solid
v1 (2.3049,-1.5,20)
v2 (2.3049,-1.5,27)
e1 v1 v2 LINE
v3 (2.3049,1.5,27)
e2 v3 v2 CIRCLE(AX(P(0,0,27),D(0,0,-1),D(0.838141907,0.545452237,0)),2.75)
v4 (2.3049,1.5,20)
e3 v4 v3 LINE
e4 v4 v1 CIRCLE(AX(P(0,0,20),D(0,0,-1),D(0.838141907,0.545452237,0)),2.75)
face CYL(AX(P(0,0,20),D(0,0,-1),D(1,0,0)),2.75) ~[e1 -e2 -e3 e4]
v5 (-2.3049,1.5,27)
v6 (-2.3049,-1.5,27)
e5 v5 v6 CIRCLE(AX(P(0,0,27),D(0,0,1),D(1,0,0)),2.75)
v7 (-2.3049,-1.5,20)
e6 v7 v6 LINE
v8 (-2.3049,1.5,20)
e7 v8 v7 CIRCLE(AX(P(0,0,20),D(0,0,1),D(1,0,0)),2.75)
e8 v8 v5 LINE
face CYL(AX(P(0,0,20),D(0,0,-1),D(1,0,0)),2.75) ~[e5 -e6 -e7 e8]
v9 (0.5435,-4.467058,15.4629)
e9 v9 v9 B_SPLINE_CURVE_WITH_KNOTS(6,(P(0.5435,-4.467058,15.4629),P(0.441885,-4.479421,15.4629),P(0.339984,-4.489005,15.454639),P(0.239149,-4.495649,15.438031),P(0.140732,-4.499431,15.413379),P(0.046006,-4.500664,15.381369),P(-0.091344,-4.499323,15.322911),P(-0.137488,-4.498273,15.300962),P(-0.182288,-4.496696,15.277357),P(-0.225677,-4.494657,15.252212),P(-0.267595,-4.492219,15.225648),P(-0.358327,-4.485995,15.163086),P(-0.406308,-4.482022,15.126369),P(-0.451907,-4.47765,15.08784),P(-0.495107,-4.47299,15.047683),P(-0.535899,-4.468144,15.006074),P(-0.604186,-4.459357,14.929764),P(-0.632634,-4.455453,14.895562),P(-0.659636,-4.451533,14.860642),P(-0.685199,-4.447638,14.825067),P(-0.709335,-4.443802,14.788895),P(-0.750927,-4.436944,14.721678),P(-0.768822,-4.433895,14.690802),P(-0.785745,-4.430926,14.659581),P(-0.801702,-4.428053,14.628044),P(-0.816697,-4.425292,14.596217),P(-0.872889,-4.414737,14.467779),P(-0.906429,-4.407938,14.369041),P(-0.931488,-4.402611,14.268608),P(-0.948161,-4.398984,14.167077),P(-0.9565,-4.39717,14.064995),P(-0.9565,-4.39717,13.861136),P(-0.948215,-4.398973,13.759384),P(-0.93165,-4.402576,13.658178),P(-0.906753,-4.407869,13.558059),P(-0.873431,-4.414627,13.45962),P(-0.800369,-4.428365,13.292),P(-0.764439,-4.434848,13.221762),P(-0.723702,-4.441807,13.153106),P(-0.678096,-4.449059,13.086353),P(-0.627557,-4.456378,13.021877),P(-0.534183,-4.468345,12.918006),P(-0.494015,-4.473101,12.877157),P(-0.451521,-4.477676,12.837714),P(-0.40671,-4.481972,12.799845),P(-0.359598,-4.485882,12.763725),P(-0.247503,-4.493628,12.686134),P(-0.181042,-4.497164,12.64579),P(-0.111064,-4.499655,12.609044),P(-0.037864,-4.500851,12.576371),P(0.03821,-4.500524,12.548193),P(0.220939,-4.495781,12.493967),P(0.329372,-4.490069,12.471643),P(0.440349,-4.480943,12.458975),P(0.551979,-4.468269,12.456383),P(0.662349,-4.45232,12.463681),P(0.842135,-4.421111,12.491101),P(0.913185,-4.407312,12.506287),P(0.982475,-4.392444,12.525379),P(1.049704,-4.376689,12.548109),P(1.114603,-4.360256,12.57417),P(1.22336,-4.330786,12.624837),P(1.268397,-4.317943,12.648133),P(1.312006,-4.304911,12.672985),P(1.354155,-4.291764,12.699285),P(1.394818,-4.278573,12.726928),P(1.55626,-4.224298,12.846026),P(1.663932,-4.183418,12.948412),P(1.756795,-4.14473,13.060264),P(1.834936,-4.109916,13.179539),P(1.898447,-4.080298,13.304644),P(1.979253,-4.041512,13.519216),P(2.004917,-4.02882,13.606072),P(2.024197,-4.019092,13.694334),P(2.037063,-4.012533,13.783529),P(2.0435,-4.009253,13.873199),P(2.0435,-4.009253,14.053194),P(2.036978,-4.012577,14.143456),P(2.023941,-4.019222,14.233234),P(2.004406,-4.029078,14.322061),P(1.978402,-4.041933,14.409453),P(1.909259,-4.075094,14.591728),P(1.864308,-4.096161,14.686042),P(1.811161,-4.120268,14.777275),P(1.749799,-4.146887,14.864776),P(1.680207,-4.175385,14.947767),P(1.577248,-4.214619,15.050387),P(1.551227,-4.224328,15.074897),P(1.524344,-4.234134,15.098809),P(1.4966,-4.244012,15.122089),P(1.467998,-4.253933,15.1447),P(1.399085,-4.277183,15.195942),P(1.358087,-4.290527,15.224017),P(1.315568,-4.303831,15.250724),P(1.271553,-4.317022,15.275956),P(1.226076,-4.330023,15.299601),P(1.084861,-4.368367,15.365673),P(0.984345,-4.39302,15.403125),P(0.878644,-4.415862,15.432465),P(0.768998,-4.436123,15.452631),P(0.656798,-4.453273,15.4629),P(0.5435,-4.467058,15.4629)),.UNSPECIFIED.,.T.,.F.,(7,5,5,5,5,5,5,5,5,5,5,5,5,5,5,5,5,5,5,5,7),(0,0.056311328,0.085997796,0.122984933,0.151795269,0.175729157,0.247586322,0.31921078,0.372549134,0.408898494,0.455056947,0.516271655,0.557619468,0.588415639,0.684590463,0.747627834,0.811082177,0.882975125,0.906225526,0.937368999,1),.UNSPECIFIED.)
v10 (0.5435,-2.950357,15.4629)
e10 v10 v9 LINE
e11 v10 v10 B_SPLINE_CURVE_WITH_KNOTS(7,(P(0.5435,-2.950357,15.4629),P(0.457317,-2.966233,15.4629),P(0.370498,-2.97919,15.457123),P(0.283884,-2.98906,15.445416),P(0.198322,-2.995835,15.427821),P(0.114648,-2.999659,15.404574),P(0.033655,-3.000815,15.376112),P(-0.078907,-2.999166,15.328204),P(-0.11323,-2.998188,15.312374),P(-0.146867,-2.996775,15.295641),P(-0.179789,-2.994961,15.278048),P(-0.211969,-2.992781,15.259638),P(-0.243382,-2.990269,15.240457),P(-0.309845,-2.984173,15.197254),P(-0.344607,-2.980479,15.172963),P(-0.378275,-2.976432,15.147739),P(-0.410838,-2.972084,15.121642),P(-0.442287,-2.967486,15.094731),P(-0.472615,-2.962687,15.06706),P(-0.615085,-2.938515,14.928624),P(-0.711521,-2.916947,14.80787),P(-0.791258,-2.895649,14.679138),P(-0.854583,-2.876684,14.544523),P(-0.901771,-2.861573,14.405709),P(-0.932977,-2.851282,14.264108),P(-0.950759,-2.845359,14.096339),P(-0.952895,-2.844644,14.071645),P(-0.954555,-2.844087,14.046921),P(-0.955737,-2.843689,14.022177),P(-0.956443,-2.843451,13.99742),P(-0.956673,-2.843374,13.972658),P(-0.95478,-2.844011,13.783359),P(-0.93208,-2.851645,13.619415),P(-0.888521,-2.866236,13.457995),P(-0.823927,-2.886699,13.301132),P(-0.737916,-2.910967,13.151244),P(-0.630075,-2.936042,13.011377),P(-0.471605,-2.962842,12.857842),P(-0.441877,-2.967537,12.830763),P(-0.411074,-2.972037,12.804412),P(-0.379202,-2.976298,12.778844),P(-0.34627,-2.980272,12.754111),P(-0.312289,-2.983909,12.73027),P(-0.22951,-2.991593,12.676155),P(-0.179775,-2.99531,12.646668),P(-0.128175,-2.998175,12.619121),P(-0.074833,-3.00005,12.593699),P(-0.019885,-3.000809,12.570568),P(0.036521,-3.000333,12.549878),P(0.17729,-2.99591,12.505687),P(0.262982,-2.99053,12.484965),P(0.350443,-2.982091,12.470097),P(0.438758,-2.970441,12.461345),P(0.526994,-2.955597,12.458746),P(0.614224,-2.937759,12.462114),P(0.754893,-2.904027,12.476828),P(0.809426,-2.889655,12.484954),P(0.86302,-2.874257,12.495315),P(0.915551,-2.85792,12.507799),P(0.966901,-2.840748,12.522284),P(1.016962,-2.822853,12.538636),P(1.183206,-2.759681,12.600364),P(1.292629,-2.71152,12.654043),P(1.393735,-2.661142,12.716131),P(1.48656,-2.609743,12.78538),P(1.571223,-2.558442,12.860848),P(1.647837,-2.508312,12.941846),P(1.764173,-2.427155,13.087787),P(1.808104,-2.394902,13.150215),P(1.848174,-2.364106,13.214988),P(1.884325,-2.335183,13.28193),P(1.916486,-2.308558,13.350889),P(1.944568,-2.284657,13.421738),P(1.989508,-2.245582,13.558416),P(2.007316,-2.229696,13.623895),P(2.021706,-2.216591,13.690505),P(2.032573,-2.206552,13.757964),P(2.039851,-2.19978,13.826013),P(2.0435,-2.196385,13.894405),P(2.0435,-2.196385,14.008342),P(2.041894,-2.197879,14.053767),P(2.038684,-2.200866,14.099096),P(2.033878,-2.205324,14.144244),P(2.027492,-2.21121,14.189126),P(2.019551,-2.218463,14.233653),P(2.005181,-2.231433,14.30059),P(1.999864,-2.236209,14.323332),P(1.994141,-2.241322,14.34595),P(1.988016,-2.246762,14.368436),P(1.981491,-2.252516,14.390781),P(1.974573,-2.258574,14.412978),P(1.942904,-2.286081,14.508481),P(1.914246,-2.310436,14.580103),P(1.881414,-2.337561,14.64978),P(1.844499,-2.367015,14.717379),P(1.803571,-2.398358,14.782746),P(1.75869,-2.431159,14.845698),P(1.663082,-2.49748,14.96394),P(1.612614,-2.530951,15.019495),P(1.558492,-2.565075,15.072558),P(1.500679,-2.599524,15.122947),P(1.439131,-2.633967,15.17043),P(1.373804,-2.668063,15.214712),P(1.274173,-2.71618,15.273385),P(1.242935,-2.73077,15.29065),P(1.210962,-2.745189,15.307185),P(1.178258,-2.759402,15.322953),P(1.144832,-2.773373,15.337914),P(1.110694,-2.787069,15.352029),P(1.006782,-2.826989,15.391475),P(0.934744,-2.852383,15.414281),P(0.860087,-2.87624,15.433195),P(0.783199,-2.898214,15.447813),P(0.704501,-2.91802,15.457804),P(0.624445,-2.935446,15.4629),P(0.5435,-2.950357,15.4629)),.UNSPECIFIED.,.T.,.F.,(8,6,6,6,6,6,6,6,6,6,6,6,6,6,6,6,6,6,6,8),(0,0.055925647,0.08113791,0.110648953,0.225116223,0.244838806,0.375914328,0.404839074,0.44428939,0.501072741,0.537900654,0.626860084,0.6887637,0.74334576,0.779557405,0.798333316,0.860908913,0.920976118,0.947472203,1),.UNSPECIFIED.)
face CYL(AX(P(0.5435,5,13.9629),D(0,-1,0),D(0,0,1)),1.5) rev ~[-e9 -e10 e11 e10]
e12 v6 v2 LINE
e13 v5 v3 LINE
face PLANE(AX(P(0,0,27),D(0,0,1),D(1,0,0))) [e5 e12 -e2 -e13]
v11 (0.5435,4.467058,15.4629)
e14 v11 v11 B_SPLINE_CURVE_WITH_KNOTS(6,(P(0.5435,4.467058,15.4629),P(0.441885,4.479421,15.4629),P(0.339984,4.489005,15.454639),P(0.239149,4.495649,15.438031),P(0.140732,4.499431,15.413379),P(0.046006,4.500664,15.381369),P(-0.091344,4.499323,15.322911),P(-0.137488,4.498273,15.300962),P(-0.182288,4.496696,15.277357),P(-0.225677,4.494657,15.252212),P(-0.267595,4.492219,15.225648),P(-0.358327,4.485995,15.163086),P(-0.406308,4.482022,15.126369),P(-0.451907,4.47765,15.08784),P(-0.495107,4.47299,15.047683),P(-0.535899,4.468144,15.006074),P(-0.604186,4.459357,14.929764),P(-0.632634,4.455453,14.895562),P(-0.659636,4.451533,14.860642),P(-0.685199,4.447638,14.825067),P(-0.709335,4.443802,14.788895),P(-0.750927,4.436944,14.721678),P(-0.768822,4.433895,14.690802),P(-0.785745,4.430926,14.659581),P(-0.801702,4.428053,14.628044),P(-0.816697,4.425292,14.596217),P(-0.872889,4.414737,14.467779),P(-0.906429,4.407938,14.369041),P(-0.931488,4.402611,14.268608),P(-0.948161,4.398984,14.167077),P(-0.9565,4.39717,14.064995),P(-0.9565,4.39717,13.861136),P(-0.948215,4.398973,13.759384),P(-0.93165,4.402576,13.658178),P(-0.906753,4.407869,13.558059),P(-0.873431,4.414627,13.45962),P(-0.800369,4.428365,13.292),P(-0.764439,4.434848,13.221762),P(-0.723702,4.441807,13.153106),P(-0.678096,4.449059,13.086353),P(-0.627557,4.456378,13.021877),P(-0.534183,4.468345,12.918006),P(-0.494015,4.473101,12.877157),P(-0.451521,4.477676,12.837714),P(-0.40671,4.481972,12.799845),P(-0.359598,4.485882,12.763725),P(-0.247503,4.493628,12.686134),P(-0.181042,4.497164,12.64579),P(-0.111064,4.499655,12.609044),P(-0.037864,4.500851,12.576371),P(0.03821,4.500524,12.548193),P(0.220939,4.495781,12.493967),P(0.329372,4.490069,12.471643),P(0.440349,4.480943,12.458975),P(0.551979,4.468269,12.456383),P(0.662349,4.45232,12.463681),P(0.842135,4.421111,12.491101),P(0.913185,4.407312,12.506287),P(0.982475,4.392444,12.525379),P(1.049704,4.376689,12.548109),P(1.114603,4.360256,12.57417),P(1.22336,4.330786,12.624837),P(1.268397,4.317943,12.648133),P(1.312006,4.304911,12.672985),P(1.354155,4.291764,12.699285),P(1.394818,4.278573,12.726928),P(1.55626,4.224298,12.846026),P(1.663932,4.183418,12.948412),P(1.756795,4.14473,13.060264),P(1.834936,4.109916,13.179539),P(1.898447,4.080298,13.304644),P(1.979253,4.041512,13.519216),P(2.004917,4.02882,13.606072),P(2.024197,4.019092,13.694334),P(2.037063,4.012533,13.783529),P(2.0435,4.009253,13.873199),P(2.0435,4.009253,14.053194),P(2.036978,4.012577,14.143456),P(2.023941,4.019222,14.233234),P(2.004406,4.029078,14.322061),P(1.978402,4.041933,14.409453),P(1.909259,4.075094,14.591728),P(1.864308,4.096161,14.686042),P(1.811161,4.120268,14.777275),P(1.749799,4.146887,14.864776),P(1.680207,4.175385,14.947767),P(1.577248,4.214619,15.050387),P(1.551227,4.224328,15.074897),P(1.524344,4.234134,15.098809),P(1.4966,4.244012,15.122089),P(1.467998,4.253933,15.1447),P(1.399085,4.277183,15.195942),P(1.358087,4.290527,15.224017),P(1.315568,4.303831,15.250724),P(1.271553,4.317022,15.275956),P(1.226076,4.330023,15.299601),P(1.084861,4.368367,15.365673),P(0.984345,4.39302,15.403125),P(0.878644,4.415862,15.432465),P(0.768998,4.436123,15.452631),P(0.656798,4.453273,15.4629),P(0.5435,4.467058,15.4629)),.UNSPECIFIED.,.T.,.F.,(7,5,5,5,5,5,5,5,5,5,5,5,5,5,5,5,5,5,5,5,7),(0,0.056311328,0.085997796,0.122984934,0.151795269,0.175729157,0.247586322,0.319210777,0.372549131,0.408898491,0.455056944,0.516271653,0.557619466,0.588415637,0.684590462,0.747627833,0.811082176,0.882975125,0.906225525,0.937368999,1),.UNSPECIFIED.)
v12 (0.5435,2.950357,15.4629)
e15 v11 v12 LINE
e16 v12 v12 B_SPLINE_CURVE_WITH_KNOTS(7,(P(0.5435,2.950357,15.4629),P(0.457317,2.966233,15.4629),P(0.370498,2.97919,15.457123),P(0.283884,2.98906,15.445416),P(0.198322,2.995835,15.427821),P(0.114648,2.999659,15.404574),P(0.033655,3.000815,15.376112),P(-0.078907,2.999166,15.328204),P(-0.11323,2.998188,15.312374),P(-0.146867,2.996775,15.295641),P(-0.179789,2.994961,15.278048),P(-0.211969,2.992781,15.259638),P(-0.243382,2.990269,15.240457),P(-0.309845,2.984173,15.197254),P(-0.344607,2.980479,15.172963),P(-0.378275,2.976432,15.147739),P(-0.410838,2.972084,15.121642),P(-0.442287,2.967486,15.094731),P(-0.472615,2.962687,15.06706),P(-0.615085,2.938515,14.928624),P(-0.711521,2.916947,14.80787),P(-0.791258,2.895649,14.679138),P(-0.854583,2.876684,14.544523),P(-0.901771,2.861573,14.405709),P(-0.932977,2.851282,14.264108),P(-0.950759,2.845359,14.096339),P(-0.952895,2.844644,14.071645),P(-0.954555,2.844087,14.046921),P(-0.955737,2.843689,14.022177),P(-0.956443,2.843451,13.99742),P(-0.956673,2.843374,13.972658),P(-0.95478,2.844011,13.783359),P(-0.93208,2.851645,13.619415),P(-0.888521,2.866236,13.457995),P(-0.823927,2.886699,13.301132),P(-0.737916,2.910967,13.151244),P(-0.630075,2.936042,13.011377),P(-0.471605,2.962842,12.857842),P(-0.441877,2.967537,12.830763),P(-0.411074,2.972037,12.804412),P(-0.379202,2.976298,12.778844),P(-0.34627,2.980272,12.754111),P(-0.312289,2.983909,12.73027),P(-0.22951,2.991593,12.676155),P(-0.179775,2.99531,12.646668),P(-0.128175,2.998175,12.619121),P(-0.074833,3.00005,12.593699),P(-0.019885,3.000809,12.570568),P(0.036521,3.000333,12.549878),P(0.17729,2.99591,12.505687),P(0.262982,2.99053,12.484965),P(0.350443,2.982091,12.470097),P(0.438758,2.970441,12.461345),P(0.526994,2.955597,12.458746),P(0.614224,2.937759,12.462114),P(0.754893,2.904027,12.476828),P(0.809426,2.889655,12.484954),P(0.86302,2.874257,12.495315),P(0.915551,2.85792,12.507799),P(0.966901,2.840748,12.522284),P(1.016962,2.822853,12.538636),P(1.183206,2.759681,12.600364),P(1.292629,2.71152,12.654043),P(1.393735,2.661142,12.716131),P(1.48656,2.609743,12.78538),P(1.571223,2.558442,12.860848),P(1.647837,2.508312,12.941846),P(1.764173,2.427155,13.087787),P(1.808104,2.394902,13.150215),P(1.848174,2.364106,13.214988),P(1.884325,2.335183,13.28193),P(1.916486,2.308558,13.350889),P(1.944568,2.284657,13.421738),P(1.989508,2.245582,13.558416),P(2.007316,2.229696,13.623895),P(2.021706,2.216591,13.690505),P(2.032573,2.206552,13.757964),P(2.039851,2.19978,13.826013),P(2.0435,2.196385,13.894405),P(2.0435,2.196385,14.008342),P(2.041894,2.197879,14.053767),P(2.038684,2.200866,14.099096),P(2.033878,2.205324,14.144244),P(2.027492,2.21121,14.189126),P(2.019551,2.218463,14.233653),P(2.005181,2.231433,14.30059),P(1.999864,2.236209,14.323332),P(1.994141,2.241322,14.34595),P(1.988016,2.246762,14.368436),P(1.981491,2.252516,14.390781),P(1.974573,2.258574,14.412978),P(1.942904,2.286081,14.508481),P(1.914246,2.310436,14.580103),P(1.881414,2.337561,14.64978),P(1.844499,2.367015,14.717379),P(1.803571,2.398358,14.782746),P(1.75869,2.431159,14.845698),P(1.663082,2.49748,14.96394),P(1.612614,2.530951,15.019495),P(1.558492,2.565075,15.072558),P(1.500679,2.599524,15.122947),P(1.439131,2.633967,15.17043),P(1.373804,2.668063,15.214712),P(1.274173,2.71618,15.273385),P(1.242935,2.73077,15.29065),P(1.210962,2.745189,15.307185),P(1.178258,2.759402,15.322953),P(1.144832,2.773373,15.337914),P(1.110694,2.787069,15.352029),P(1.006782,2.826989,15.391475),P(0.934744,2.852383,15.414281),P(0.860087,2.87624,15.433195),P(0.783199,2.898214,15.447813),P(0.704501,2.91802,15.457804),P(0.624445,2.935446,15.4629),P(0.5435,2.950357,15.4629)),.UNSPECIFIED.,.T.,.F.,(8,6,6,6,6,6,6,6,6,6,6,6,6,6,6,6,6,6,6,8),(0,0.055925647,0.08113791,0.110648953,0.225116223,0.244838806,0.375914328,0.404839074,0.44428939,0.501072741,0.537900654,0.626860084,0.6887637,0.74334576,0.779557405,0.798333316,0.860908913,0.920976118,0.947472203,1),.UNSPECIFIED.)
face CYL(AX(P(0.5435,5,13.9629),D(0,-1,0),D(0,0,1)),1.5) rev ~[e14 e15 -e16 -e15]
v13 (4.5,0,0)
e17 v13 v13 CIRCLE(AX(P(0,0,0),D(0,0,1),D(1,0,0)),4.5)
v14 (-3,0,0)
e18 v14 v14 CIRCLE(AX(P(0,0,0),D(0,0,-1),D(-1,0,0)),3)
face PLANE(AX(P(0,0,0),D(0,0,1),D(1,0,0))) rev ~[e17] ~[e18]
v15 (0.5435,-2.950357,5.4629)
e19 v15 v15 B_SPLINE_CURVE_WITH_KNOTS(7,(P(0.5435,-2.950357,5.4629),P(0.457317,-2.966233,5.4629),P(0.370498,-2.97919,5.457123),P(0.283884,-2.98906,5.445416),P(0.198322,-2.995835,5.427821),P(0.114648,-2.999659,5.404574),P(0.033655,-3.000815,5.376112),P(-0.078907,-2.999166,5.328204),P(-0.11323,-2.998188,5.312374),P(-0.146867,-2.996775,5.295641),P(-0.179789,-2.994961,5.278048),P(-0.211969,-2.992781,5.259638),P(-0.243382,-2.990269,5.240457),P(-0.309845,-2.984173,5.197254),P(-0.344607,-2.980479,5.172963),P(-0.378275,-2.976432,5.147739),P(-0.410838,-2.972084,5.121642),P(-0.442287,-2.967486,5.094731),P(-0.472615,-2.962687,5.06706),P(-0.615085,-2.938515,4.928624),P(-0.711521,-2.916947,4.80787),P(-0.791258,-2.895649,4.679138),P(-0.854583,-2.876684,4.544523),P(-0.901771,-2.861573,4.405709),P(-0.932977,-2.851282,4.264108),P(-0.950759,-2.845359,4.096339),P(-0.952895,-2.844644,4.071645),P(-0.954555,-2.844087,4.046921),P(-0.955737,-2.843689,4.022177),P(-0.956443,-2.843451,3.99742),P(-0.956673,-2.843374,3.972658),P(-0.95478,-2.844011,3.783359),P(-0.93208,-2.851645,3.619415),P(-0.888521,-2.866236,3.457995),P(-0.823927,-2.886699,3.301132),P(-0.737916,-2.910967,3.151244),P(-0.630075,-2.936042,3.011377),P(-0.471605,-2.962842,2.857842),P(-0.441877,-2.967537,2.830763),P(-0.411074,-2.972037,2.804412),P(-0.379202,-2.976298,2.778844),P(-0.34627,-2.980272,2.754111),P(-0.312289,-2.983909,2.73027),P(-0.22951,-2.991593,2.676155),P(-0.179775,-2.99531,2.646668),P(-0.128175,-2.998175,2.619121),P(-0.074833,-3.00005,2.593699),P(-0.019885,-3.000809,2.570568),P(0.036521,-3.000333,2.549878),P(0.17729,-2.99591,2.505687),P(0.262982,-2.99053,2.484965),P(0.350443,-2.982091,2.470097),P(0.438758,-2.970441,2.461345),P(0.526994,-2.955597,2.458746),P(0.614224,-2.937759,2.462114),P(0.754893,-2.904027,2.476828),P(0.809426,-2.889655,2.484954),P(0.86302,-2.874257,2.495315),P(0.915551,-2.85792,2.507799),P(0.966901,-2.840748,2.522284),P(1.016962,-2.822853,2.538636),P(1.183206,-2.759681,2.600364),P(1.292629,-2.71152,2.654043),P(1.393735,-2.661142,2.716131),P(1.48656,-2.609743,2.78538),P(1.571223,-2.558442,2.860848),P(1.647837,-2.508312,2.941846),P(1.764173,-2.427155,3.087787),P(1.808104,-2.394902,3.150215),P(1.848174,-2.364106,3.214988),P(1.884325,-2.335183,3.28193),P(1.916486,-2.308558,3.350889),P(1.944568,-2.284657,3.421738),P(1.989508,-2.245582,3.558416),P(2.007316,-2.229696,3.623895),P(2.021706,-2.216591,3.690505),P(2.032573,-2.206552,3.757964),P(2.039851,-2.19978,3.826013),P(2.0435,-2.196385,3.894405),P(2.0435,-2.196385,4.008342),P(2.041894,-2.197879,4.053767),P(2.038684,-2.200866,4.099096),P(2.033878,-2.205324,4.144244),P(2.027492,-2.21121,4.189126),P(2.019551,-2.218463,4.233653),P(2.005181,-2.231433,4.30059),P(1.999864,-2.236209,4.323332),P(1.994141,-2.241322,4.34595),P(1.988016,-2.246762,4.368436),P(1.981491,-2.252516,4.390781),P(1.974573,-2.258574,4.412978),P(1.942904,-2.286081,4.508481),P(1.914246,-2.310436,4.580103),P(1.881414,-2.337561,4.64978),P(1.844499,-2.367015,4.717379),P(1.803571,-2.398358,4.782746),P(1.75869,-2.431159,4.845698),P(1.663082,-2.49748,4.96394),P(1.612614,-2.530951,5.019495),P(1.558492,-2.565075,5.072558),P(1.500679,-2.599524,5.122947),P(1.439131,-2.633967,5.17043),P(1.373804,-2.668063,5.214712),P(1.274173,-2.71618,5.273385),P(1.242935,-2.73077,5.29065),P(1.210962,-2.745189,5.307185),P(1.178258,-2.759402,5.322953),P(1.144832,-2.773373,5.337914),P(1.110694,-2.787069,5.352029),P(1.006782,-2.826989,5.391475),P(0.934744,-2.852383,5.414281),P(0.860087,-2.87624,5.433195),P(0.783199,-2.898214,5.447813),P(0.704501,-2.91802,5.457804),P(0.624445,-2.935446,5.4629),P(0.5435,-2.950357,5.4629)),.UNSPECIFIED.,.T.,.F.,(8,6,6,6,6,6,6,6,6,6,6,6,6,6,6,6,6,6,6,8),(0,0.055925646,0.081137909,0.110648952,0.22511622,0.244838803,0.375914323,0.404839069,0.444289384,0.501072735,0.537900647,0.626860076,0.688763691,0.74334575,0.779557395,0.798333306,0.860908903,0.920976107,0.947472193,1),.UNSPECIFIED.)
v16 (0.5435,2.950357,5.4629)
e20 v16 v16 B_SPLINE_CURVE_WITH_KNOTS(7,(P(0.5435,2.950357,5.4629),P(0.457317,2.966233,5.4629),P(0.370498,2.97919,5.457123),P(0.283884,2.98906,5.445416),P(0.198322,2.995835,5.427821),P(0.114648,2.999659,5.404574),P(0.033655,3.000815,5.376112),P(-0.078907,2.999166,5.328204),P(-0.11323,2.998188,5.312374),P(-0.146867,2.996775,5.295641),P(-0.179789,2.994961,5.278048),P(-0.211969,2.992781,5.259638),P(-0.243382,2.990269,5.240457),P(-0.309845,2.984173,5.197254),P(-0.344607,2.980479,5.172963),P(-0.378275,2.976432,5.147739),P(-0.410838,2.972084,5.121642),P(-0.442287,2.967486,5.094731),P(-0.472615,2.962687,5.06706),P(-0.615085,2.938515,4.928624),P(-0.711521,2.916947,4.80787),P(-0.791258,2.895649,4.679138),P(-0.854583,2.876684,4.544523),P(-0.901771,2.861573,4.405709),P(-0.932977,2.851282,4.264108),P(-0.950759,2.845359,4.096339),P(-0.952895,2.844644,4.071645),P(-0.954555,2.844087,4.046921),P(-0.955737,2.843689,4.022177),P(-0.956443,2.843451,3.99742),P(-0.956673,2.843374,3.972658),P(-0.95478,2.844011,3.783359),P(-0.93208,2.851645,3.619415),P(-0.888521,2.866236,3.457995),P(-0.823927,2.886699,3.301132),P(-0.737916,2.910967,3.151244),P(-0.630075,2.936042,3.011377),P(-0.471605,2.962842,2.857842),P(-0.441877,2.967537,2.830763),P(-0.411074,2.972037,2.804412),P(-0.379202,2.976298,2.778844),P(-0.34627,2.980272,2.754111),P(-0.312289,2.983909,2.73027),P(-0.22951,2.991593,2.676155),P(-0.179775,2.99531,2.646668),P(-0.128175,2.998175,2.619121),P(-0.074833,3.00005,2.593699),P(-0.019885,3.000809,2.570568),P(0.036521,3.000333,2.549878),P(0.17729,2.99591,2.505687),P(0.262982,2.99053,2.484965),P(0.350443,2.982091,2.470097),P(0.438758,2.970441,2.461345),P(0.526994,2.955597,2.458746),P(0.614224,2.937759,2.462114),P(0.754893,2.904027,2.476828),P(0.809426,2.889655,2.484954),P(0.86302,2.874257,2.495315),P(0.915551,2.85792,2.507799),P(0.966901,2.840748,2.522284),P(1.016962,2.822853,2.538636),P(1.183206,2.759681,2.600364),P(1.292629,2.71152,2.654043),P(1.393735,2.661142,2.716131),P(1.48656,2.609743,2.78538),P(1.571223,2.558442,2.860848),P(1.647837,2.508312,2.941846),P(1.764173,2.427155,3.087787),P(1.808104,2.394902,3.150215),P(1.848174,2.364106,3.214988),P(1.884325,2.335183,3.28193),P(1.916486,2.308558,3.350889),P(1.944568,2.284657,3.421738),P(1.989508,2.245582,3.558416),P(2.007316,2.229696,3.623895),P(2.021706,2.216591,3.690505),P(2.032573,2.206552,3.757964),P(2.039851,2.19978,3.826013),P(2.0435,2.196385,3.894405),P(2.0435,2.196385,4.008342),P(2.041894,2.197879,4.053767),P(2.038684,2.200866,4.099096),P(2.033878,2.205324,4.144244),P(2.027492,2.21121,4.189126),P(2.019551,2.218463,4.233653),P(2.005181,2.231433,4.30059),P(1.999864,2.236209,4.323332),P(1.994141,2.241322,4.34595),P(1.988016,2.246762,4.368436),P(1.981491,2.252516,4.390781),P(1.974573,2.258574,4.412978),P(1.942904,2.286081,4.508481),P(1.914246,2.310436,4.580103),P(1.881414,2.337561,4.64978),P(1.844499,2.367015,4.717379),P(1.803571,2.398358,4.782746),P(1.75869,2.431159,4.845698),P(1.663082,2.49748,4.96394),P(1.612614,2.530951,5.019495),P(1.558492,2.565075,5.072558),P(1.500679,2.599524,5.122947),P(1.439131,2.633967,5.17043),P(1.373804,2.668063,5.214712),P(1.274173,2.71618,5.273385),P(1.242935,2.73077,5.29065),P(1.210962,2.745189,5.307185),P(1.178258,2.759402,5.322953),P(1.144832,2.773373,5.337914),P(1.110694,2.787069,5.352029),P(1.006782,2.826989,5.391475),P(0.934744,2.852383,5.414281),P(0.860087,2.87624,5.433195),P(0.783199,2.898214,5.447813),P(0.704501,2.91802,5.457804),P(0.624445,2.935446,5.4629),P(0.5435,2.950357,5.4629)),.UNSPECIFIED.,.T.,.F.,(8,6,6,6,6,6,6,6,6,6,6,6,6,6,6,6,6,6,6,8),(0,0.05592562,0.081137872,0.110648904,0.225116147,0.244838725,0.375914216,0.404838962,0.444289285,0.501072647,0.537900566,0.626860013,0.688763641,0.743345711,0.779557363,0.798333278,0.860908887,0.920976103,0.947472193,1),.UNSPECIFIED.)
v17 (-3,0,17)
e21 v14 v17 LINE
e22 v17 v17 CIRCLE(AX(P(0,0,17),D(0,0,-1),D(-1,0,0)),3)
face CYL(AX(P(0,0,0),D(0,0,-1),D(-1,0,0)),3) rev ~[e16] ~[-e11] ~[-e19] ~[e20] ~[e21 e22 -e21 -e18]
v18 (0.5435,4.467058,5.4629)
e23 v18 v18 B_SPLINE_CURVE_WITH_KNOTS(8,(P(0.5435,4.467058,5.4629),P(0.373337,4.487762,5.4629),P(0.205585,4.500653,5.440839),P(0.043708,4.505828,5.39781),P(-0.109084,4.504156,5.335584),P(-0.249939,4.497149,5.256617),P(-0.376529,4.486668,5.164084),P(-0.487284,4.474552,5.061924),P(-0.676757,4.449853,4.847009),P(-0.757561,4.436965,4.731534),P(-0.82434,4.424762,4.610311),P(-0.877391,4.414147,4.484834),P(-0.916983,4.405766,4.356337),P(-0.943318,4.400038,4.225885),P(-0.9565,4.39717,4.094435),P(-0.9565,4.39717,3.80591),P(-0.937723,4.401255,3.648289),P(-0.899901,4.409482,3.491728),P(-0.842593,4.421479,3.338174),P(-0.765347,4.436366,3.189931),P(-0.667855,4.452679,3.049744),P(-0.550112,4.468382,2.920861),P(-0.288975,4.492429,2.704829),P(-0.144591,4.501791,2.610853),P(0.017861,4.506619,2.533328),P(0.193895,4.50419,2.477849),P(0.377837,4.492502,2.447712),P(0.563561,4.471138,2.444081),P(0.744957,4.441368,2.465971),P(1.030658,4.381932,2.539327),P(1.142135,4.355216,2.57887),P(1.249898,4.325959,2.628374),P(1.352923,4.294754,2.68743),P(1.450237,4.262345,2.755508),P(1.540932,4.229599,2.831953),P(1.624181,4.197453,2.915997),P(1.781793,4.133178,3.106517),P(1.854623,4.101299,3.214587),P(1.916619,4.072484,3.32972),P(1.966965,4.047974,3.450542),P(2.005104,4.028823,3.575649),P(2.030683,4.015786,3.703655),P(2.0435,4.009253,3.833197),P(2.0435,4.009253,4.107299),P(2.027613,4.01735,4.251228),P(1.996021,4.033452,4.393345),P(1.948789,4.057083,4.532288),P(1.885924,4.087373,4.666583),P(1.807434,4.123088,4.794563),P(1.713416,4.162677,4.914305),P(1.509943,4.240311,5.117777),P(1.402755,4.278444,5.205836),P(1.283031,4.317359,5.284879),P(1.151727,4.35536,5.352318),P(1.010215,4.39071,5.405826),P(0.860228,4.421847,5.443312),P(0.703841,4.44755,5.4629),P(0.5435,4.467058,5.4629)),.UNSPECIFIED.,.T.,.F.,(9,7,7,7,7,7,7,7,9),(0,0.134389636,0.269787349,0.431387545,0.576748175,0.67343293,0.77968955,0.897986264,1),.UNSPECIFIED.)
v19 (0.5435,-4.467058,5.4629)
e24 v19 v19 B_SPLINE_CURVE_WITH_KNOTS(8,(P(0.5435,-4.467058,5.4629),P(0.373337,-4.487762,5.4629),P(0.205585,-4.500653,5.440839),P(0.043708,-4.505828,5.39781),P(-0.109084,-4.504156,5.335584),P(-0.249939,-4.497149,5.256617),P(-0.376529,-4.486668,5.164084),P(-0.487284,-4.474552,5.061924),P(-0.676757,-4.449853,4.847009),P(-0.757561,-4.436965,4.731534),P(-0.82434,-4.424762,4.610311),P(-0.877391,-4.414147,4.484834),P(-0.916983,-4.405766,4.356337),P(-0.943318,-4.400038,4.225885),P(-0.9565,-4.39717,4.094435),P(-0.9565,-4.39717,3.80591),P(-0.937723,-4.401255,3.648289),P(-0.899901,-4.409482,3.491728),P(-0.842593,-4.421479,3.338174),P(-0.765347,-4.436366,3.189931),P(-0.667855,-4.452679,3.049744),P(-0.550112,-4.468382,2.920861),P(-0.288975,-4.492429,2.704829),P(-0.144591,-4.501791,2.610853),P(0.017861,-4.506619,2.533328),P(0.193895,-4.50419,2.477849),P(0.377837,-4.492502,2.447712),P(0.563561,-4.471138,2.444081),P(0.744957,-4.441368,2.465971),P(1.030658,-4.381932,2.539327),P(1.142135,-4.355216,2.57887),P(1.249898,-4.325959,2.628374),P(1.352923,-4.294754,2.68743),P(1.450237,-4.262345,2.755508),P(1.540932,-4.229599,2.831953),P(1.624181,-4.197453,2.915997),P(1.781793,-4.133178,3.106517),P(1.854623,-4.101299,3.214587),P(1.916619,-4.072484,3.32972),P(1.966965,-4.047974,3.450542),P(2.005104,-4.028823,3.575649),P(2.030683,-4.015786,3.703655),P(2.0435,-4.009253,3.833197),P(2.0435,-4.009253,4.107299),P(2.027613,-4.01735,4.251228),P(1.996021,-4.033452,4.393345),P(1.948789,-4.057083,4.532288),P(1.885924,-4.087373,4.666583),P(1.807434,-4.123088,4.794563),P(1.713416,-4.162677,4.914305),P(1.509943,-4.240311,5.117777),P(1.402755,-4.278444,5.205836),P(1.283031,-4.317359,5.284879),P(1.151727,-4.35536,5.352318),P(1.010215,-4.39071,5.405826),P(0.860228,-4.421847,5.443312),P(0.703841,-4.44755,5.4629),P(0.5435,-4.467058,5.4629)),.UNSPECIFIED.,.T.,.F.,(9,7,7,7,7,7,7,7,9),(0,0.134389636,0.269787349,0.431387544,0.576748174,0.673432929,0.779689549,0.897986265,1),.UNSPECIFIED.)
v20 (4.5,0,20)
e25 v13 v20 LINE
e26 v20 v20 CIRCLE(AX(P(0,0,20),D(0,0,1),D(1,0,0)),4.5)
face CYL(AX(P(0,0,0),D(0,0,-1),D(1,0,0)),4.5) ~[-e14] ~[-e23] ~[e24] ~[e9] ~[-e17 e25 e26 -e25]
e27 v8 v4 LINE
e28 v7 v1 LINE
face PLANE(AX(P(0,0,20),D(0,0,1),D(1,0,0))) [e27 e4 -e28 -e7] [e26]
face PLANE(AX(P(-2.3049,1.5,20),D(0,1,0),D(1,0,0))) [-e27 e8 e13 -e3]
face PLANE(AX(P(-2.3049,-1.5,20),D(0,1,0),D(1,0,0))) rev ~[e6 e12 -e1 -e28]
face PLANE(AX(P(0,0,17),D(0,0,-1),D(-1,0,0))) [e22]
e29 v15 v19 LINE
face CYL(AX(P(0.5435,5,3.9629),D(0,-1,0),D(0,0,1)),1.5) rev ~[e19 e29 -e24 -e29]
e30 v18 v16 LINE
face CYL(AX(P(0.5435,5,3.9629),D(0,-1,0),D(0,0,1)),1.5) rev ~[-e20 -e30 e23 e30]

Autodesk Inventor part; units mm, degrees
ref_plane "YZ Plane" through (0, 0, 0) normal (1, 0, 0) x (0, 1, 0)
ref_plane "XY Plane" through (0, 0, 0) normal (0, 0, 1) x (1, 0, 0)
sketch "Szkic1" plane through (0, 0, 0) normal (0, 0, 1) x (1, 0, 0)
  circle A0 centre (0, 0) radius 4.5
  dimension "d0" = 9
extrude "Wyciągnięcie proste1" add sketch "Szkic1" along normal blind 20
sketch "Szkic2" plane through (0, 0, 0) normal (0, 0, -1) x (-1, 0, 0)
  circle A0 centre (0, 0) radius 3
  dimension "d3" = 6
extrude "Wyciągnięcie proste2" cut sketch "Szkic2" against normal blind 17
sketch "Szkic3" plane through (0, 0, 20) normal (0, 0, 1) x (1, 0, 0)
  circle A0 centre (0, 0) radius 2.75
  line L0 (-2.3049, 1.5) -> (2.3049, 1.5)
  line L1 (-2.3049, -1.5) -> (2.3049, -1.5)
  dimension "d6" = 5.5
  dimension "d7" = 1.5
  dimension "d8" = 1.5
extrude "Wyciągnięcie proste3" add sketch "Szkic3" along normal blind 7 contours A0 L1 L0
ref_plane "Płaszczyzna konstrukcyjna1" through (0, 5, 0) normal (0, 1, 0) x (-1, 0, 0)
sketch "Szkic6" plane through (0, 5, 0) normal (0, 1, 0) x (-1, 0, 0)
  line L0 (-2.3049, 20) -> (-2.3049, 27) projected
  point P0 (0, 0)
  point P1 (-0.5435, 3.9629)
  point P2 (-0.5435, 13.9629)
  dimension "d12" = 10
  dimension "d13" = 4
  dimension "d14" = 1.7614
  dimension "d15" = 1.7614
hole "Otwór1" at (0.5435, 5, 3.9629) at (0.5435, 5, 13.9629) direction (0, -1, 0) diameter 3 end through all
properties part number "Ośka"
